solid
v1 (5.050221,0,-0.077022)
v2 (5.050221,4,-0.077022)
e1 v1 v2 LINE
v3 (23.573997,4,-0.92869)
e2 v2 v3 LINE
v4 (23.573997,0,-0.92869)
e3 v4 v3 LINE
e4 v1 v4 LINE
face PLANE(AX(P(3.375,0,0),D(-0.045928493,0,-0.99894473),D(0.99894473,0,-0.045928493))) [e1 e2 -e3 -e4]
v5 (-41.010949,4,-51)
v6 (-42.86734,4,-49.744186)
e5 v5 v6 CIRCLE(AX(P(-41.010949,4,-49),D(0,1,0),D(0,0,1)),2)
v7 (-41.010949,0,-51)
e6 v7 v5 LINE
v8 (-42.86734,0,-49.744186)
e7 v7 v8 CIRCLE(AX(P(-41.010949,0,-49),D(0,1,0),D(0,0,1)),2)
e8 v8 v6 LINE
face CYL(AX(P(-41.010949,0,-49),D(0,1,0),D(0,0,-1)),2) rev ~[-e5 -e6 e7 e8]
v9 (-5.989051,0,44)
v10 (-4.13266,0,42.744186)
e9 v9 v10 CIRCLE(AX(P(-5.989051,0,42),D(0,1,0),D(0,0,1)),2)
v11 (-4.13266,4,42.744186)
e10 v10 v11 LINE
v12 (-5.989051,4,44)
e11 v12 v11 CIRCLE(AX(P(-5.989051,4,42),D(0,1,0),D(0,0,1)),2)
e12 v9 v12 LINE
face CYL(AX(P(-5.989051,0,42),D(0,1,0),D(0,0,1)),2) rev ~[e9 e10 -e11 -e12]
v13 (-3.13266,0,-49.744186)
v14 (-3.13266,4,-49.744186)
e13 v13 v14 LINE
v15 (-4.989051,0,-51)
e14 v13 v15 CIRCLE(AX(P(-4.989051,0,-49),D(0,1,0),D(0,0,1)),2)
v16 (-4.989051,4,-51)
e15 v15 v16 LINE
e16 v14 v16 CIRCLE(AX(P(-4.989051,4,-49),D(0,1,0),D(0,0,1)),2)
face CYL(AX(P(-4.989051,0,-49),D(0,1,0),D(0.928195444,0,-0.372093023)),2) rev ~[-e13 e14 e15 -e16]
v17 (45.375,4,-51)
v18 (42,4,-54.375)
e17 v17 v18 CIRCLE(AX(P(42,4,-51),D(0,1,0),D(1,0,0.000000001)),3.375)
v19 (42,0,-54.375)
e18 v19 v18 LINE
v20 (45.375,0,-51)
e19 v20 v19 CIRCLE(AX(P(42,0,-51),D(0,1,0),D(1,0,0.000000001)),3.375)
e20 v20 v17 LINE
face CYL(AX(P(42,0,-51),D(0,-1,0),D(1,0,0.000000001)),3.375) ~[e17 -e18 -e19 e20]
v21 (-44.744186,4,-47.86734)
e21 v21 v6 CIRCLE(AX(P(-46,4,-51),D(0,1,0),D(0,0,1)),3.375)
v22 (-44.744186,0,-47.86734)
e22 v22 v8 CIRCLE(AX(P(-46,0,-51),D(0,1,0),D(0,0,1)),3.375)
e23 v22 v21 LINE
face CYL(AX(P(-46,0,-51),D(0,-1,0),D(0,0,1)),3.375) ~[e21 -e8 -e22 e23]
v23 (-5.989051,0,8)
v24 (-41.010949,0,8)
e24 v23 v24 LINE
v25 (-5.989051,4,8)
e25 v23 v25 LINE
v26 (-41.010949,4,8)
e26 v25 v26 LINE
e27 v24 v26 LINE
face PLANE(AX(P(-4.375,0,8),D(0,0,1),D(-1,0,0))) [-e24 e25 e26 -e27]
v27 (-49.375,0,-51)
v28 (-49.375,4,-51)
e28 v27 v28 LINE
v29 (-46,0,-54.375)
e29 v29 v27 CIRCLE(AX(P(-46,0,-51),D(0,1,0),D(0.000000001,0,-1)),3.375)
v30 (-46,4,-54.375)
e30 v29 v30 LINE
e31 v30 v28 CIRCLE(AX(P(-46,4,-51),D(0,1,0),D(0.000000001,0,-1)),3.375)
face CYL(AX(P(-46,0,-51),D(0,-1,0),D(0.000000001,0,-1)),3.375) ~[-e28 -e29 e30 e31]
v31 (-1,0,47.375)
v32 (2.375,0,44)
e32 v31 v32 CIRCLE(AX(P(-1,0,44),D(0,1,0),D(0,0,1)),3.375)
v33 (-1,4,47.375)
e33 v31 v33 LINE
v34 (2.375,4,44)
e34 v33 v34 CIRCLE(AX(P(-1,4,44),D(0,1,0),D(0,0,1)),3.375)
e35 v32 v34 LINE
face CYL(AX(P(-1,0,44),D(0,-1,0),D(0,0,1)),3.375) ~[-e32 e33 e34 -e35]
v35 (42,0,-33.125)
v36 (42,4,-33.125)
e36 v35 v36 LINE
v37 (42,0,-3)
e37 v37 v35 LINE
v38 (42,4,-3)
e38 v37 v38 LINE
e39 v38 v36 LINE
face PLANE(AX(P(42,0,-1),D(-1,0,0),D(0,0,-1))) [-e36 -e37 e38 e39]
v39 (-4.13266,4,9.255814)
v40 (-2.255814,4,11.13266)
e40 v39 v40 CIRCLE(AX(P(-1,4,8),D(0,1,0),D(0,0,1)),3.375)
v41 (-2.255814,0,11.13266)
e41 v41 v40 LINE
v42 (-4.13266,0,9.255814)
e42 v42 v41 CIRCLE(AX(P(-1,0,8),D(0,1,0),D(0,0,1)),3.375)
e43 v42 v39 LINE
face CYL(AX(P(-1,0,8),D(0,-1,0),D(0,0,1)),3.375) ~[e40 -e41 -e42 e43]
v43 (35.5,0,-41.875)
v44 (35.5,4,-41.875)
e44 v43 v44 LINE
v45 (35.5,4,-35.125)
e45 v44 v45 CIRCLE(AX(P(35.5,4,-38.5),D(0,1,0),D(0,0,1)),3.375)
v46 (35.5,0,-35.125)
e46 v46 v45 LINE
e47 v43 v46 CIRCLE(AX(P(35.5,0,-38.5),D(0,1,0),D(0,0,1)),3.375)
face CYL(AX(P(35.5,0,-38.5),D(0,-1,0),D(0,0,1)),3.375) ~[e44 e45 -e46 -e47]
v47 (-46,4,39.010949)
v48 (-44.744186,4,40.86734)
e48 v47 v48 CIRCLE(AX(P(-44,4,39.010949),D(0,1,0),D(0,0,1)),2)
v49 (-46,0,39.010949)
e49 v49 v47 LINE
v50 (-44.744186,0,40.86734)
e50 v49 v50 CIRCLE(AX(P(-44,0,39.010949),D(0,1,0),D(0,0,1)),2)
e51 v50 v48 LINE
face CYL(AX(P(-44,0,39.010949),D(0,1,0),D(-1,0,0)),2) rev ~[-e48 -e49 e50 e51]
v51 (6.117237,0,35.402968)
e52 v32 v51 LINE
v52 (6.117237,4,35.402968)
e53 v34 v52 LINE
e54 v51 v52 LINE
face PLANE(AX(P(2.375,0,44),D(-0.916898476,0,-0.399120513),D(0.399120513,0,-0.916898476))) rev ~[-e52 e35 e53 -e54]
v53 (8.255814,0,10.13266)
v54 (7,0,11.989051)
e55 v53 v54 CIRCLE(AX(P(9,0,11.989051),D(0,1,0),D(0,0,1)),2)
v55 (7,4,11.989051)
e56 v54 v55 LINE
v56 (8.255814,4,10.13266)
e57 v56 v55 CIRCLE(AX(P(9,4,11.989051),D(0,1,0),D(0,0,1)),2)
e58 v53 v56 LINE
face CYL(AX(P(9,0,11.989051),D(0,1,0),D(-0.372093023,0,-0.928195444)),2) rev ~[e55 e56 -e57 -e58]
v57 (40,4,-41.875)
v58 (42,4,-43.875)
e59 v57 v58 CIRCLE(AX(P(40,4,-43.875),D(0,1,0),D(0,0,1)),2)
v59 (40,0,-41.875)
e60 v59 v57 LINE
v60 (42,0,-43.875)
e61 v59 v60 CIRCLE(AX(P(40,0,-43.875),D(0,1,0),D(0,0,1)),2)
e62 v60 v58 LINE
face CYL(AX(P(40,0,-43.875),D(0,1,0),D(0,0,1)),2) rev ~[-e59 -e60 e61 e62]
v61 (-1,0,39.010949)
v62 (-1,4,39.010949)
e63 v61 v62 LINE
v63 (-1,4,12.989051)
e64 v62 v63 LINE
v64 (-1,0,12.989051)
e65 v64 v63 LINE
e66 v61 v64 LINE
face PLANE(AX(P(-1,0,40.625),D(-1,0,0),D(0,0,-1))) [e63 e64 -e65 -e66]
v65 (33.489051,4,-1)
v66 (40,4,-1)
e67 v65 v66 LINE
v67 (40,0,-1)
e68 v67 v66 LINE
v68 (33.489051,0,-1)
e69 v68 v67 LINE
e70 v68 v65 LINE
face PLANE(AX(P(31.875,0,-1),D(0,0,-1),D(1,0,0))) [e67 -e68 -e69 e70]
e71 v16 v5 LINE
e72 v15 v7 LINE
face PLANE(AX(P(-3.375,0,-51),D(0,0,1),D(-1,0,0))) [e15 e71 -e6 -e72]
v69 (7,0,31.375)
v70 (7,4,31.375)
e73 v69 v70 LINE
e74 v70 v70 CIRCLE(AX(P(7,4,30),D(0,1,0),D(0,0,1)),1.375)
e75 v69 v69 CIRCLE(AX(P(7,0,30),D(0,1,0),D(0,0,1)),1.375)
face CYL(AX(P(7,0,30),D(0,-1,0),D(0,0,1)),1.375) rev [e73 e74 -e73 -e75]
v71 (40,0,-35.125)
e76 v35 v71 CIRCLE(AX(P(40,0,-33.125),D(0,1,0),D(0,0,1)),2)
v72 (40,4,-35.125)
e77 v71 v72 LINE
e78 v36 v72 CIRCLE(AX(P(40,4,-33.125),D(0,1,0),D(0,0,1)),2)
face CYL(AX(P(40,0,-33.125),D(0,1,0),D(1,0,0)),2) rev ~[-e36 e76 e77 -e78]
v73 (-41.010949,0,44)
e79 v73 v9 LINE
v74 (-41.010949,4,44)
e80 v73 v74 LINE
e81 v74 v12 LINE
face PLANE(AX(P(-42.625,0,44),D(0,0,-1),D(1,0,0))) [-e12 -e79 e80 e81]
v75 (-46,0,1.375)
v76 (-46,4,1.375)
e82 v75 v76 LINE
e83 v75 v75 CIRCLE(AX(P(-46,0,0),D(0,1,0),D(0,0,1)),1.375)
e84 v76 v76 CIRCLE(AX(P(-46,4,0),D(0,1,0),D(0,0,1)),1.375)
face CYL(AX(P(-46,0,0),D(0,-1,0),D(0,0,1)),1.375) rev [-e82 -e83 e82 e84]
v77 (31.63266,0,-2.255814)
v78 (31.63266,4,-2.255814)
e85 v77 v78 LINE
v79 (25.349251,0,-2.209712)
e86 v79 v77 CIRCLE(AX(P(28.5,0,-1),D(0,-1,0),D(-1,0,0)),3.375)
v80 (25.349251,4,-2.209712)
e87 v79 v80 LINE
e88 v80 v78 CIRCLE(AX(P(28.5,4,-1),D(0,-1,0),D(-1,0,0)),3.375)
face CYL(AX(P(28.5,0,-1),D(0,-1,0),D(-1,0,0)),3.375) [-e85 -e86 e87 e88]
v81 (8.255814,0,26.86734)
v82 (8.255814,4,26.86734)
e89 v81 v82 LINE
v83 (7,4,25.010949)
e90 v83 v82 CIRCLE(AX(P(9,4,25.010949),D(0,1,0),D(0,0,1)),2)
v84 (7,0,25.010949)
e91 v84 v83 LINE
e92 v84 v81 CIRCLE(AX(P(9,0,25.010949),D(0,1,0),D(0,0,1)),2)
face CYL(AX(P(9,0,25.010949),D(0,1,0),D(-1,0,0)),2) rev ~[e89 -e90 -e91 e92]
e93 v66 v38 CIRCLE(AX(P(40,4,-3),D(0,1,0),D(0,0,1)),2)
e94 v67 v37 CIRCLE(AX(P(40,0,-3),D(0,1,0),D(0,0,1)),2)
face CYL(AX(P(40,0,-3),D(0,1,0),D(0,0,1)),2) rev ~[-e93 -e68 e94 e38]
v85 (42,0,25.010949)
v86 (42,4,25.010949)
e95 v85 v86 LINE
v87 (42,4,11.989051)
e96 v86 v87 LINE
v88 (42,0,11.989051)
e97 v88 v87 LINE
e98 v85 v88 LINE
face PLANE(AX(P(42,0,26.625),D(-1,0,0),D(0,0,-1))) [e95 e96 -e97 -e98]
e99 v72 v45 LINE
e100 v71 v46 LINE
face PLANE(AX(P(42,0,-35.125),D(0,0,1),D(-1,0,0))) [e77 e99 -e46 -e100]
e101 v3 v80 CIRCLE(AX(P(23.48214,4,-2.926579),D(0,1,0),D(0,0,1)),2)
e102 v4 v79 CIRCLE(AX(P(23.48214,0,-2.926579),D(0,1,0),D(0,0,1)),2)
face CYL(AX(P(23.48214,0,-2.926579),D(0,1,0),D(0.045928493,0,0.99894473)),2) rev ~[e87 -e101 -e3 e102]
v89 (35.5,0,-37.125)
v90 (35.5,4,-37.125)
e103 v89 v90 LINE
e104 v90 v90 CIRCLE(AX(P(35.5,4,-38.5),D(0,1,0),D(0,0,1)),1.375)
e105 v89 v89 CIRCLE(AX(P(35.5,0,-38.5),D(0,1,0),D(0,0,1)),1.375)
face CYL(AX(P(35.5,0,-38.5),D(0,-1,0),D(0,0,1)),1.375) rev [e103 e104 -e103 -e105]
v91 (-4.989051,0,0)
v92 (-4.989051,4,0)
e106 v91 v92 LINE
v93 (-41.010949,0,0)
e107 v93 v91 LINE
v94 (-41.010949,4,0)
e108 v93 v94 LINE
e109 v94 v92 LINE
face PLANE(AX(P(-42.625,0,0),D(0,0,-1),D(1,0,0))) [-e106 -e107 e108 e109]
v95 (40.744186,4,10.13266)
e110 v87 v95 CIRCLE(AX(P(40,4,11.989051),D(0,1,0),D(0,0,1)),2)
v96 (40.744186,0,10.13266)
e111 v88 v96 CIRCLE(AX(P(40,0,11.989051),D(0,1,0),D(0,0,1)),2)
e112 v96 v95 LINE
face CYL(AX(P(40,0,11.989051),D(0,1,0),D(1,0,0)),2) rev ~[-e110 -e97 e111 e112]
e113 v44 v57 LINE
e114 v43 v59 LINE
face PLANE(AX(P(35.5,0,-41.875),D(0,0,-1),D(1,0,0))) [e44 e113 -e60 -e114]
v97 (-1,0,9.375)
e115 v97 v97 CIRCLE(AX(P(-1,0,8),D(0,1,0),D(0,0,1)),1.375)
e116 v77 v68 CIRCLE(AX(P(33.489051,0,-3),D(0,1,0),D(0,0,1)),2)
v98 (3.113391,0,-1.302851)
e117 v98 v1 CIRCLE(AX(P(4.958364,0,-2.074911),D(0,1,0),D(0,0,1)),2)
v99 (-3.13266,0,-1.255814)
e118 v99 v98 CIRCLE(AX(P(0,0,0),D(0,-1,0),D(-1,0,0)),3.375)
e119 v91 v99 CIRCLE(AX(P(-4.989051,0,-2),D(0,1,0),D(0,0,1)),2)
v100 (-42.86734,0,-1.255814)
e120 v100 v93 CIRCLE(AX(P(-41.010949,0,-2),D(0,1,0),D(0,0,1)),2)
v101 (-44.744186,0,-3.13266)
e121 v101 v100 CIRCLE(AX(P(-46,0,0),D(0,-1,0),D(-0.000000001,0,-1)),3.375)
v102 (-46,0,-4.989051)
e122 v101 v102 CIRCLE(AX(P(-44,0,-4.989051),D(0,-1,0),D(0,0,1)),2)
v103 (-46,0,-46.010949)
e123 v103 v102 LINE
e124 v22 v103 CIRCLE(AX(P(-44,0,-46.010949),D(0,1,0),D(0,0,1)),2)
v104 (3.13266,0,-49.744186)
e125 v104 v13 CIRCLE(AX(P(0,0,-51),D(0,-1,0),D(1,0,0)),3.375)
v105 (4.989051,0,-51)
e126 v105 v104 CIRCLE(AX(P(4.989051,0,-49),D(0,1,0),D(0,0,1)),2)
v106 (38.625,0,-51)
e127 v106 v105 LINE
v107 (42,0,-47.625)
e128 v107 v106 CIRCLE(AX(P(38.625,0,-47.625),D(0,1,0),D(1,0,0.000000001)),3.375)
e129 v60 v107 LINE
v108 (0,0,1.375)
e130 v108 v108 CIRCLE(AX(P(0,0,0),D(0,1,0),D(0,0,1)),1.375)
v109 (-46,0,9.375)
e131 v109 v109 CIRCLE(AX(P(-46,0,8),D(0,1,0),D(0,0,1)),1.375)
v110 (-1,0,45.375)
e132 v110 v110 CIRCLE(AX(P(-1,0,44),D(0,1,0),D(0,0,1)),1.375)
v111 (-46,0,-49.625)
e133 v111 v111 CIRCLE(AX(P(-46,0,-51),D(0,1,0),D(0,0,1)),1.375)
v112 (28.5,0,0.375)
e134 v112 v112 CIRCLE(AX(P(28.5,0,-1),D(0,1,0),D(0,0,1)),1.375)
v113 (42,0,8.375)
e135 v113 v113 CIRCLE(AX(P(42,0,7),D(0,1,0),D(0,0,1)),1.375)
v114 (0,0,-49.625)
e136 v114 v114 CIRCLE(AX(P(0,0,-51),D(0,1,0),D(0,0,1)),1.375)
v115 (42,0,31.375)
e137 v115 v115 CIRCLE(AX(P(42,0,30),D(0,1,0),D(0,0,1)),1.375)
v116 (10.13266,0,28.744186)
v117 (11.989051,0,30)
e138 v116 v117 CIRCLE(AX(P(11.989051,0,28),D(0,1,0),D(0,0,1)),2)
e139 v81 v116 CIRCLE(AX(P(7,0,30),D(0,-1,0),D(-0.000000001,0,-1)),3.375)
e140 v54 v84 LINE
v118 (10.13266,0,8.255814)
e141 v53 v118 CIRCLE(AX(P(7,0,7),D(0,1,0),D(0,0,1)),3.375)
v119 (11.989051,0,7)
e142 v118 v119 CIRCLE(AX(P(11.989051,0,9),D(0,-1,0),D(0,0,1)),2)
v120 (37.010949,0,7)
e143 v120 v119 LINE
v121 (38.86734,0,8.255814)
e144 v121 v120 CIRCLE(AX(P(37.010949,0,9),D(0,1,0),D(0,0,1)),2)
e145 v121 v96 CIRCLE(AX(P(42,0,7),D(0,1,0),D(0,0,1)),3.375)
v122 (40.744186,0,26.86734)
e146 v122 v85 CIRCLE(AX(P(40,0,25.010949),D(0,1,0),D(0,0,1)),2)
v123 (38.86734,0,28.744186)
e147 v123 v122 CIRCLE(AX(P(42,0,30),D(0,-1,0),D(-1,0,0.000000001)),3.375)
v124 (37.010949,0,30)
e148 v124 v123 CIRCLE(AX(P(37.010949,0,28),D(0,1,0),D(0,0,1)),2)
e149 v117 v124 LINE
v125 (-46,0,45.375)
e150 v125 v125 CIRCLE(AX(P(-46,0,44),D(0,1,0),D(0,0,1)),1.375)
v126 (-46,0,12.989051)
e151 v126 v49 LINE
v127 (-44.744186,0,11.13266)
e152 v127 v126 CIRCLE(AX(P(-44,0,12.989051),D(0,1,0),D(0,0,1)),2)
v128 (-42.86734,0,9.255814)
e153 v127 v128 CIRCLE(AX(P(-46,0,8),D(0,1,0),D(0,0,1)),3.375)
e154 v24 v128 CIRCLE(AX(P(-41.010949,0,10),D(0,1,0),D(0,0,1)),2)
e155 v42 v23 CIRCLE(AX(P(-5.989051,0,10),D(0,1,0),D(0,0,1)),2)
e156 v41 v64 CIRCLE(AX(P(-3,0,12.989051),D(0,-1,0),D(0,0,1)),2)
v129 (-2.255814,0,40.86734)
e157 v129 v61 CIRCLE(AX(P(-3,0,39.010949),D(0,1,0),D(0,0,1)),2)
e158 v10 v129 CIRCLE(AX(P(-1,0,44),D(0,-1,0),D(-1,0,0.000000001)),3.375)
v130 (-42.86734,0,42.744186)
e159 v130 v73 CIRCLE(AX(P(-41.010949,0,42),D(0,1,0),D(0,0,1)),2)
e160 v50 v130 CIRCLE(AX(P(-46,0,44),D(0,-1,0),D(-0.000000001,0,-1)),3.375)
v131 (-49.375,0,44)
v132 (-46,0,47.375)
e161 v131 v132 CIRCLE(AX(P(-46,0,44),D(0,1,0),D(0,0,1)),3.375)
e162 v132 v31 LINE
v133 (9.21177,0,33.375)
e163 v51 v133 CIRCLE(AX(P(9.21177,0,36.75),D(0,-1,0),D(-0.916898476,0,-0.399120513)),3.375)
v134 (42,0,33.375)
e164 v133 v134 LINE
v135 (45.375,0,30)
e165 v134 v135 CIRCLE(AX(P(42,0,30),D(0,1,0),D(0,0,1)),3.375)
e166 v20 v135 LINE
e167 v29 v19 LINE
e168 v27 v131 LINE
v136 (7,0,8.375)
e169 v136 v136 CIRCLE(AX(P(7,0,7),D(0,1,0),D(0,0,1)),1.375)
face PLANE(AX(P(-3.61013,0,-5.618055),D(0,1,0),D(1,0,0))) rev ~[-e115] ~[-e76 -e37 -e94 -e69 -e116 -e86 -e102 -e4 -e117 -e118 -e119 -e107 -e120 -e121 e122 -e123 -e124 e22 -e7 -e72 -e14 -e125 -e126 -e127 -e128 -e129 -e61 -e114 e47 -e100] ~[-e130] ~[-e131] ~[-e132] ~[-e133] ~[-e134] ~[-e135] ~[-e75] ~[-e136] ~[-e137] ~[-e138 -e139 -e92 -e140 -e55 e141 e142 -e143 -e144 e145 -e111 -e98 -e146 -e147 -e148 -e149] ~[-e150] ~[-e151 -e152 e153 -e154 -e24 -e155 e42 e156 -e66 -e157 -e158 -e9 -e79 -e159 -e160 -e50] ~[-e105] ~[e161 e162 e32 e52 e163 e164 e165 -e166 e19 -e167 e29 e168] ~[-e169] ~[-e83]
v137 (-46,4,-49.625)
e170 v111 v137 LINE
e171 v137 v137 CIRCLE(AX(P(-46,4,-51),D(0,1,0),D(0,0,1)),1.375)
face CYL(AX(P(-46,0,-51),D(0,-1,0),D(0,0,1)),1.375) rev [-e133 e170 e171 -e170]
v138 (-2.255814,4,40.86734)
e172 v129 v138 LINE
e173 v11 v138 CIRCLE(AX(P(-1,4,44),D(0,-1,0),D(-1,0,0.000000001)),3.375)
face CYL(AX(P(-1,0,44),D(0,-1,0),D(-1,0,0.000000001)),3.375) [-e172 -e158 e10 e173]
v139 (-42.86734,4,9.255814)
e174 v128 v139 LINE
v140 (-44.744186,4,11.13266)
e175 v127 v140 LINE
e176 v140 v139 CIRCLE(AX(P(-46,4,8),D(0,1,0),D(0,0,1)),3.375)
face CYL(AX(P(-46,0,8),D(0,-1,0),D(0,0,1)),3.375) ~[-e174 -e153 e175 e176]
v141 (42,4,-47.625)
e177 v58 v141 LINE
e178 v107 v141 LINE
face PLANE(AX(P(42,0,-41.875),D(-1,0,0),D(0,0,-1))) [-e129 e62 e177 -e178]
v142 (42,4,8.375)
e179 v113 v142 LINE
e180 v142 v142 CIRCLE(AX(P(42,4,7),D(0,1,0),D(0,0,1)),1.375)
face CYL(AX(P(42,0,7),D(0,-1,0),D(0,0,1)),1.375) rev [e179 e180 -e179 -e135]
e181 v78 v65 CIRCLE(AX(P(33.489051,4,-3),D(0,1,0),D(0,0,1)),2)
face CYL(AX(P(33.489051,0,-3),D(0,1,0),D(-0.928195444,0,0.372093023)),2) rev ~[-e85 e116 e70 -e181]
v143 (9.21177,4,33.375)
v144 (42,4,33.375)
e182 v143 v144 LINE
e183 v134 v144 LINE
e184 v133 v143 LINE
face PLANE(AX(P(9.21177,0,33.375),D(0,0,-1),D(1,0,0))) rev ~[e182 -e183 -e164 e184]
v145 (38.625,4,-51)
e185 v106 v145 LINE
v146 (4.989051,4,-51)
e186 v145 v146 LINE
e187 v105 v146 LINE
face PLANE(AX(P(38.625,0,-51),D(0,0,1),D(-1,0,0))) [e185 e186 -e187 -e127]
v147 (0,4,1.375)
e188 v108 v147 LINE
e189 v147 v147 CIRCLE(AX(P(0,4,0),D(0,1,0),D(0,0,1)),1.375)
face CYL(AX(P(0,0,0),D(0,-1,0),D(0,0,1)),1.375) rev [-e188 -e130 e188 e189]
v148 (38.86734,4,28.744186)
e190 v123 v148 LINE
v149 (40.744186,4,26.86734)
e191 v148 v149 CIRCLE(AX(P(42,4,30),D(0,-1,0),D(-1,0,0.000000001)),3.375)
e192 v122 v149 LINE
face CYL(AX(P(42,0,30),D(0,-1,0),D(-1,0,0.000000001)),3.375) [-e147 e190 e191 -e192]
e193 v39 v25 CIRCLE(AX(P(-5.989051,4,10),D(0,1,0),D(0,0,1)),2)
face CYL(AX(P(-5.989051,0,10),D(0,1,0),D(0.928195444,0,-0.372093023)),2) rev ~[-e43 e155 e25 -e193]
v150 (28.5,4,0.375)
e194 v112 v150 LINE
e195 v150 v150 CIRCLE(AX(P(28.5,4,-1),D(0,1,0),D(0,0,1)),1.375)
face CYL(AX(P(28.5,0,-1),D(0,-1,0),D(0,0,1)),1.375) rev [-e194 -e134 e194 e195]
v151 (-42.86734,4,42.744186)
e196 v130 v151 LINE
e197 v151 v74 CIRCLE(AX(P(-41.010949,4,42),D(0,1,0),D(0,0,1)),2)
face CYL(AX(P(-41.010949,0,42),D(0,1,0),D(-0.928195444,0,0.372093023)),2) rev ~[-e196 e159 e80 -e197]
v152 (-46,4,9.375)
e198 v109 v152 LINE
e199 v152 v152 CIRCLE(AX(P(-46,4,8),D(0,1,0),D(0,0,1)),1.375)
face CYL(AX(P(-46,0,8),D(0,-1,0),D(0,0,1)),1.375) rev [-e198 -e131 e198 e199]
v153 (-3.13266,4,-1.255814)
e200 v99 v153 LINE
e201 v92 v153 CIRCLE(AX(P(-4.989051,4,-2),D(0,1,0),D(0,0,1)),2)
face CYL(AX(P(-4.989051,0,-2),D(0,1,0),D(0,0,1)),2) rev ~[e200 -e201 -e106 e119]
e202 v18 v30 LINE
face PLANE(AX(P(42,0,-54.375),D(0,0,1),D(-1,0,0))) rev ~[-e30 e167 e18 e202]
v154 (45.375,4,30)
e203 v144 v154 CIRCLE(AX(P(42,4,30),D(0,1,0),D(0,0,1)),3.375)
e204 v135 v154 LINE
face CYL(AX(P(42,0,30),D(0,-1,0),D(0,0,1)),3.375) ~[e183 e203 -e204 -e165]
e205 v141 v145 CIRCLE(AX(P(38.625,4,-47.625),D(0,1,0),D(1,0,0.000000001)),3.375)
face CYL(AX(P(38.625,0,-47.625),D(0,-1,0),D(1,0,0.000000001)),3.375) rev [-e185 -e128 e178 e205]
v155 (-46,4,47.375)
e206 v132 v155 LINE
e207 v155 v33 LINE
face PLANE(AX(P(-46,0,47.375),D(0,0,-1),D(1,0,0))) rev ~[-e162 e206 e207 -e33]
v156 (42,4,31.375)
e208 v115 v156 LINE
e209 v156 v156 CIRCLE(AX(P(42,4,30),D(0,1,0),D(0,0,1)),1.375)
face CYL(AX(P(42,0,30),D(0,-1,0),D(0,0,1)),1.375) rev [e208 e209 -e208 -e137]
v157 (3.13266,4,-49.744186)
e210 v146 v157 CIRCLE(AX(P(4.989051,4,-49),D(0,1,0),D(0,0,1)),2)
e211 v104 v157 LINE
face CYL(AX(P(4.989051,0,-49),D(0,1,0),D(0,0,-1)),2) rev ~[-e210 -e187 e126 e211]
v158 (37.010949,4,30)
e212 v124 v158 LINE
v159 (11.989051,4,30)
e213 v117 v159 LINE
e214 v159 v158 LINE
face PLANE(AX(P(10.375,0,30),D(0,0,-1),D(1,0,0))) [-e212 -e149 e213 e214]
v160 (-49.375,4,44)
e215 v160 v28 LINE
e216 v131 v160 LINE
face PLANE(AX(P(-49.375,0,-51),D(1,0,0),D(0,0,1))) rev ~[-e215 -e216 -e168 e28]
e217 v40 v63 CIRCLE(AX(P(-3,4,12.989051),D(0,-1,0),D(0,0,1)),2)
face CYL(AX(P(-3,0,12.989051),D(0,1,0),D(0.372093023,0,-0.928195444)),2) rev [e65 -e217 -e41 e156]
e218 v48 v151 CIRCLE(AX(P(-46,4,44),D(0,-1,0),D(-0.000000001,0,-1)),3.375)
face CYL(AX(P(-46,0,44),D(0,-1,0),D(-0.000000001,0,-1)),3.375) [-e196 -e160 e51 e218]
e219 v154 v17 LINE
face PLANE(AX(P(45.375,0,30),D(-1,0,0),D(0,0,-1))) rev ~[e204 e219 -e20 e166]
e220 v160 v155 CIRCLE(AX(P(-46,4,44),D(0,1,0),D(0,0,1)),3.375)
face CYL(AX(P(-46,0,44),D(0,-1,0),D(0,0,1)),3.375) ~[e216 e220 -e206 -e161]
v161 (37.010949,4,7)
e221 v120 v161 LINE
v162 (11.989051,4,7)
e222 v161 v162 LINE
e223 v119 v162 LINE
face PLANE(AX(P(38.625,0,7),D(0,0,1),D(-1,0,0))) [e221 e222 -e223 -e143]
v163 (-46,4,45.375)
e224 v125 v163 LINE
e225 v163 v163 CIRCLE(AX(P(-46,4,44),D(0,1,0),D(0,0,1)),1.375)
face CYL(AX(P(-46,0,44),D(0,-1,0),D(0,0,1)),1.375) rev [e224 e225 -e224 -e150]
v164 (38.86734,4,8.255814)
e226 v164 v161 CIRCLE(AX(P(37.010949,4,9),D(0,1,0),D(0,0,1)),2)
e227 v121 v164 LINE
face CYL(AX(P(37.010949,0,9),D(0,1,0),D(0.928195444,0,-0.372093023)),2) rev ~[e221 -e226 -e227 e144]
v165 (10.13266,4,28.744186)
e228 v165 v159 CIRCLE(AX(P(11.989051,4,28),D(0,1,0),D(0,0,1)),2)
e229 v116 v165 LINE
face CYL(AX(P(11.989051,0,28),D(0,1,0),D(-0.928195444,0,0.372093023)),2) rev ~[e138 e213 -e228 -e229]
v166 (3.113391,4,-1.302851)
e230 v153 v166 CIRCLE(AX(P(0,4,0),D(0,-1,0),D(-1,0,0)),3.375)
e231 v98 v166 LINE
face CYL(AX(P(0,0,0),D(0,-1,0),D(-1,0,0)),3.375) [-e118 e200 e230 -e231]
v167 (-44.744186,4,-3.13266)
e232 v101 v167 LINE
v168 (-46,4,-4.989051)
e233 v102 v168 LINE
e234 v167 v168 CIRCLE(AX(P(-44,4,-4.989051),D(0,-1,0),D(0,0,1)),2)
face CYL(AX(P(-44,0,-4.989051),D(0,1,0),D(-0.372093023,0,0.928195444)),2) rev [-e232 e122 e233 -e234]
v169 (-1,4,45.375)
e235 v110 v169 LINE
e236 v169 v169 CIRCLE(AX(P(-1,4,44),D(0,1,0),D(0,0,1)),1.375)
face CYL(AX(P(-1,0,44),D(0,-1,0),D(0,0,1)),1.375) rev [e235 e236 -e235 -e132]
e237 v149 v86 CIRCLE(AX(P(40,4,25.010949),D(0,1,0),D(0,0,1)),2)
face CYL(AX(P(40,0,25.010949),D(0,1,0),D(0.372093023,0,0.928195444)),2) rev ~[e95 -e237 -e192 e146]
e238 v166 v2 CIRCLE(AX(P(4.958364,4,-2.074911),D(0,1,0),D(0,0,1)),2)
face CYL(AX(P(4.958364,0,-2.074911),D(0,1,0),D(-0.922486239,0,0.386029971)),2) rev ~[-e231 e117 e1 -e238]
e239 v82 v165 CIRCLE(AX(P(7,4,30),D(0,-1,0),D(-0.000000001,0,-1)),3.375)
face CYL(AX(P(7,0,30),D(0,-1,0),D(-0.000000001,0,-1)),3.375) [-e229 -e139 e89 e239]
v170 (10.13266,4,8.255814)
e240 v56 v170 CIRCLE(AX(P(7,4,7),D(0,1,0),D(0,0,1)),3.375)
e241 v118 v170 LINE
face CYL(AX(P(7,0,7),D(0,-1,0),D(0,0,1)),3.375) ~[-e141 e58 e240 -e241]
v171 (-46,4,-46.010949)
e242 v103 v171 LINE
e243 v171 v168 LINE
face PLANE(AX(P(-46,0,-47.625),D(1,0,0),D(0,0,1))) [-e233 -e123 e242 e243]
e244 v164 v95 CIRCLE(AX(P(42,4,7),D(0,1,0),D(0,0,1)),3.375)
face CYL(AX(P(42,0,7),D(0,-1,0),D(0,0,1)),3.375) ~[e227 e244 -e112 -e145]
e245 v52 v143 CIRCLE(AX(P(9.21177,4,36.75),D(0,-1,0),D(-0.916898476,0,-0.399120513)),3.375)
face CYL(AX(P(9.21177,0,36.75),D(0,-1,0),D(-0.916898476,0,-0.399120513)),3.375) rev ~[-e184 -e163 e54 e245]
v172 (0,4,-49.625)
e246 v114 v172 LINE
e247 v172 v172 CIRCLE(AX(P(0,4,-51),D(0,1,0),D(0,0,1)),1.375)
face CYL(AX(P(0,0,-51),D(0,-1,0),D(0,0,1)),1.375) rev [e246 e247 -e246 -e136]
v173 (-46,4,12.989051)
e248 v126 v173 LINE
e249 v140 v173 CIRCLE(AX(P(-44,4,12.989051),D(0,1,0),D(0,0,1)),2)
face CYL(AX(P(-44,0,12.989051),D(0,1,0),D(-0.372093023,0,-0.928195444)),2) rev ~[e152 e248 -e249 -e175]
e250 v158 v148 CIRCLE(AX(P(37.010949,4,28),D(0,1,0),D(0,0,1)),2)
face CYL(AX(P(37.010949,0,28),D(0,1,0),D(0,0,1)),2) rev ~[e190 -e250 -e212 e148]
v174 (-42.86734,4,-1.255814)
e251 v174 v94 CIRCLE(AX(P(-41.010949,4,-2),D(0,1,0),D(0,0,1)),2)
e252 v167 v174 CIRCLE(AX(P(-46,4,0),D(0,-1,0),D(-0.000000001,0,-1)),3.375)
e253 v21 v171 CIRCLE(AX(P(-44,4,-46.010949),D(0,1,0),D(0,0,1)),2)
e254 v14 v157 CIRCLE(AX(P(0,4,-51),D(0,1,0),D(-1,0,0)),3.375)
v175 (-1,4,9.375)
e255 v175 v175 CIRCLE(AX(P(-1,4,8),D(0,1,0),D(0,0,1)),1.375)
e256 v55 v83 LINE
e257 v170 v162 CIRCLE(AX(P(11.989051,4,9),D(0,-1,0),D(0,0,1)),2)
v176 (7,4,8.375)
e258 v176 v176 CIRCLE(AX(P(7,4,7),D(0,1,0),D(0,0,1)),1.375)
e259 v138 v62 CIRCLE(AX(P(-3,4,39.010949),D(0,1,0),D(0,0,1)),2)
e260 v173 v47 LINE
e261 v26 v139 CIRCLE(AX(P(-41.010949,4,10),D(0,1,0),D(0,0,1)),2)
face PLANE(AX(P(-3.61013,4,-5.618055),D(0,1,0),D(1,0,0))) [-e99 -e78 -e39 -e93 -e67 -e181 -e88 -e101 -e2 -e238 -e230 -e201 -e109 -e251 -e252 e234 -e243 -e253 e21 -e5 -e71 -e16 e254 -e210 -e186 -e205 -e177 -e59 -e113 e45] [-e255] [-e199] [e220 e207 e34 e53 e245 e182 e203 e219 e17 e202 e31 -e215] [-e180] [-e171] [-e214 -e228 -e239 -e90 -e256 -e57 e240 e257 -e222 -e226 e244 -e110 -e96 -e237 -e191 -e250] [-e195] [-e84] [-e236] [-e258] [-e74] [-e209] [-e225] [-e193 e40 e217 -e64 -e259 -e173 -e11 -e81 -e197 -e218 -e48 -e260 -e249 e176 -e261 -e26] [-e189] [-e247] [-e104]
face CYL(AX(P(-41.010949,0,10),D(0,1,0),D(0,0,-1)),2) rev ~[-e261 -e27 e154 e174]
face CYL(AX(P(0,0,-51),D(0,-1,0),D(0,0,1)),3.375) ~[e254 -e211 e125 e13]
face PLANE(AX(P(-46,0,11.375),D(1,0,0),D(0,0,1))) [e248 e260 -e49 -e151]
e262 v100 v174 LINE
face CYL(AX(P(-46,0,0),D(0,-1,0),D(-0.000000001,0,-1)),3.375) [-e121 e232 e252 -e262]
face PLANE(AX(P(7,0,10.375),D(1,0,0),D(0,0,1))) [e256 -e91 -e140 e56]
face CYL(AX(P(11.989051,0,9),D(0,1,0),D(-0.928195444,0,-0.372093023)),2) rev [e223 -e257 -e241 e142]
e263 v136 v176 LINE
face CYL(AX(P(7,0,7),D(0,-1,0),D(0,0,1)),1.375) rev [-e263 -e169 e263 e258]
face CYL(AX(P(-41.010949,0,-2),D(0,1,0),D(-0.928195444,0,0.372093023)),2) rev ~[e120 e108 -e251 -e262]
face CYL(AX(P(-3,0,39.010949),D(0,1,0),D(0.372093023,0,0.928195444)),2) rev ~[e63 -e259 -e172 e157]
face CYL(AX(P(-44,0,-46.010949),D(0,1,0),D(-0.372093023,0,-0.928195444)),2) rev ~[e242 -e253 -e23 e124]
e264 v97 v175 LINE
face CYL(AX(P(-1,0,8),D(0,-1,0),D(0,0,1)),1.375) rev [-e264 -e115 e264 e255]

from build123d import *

# Parameters (mm, degrees)
SKETCH2_R                = 3.375
SKETCH2_R_2              = 1.375
PART_SCREWHOLES_DEPTH    = 4
PART_SCREWHOLES_2_DEPTH  = 4
PART_SCREWHOLES_3_DEPTH  = 4
PART_SCREWHOLES_4_DEPTH  = 4
PART_SCREWHOLES_5_DEPTH  = 4
PART_SCREWHOLES_6_DEPTH  = 4
PART_SCREWHOLES_7_DEPTH  = 4
PART_SCREWHOLES_8_DEPTH  = 4
PART_SCREWHOLES_9_DEPTH  = 4
PART_SCREWHOLES_10_DEPTH = 4
PART_SCREWHOLES_11_DEPTH = 4
PART_SCREWHOLES_12_DEPTH = 4
PART_SCREWHOLES_13_DEPTH = 4
PART_SCREWHOLES_14_DEPTH = 4
FRAME_START              = -4
SKETCH3_R                = 1.375
FRAME_DEPTH              = 4
GENERAL_ROUNDING_2MM_R   = 2


with BuildPart() as part:
    # Sketch2 → Part screwholes (new body)
    with BuildSketch(Plane(origin=(0, 0, 0), x_dir=(1, 0, 0), z_dir=(0, 1, 0))):
        with Locations(Location((-46, 51, 0), (0, 0, 270))):
            Circle(SKETCH2_R)
        with Locations(Location((-46, 51, 0), (0, 0, 270))):
            Circle(SKETCH2_R_2, mode=Mode.SUBTRACT)
    extrude(amount=PART_SCREWHOLES_DEPTH)



with BuildPart() as body_2:
    # Sketch2 → Part screwholes 2 (new body)
    with BuildSketch(Plane(origin=(0, 0, 0), x_dir=(1, 0, 0), z_dir=(0, 1, 0))):
        with Locations(Location((0, 51, 0), (0, 0, 270))):
            Circle(SKETCH2_R)
        with Locations(Location((0, 51, 0), (0, 0, 270))):
            Circle(SKETCH2_R_2, mode=Mode.SUBTRACT)
    extrude(amount=PART_SCREWHOLES_2_DEPTH)


with BuildPart() as body_3:
    # Sketch2 → Part screwholes 3 (new body)
    with BuildSketch(Plane(origin=(0, 0, 0), x_dir=(1, 0, 0), z_dir=(0, 1, 0))):
        with Locations(Location((0, 0, 0), (0, 0, 270))):
            Circle(SKETCH2_R)
        with Locations(Location((0, 0, 0), (0, 0, 270))):
            Circle(SKETCH2_R_2, mode=Mode.SUBTRACT)
    extrude(amount=PART_SCREWHOLES_3_DEPTH)


with BuildPart() as body_4:
    # Sketch2 → Part screwholes 4 (new body)
    with BuildSketch(Plane(origin=(0, 0, 0), x_dir=(1, 0, 0), z_dir=(0, 1, 0))):
        with Locations(Location((-46, 0, 0), (0, 0, 270))):
            Circle(SKETCH2_R)
        with Locations(Location((-46, 0, 0), (0, 0, 270))):
            Circle(SKETCH2_R_2, mode=Mode.SUBTRACT)
    extrude(amount=PART_SCREWHOLES_4_DEPTH)


with BuildPart() as body_5:
    # Sketch2 → Part screwholes 5 (new body)
    with BuildSketch(Plane(origin=(0, 0, 0), x_dir=(1, 0, 0), z_dir=(0, 1, 0))):
        with Locations(Location((-46, -8, 0), (0, 0, 270))):
            Circle(SKETCH2_R)
        with Locations(Location((-46, -8, 0), (0, 0, 270))):
            Circle(SKETCH2_R_2, mode=Mode.SUBTRACT)
    extrude(amount=PART_SCREWHOLES_5_DEPTH)


with BuildPart() as body_6:
    # Sketch2 → Part screwholes 6 (new body)
    with BuildSketch(Plane(origin=(0, 0, 0), x_dir=(1, 0, 0), z_dir=(0, 1, 0))):
        with Locations(Location((-1, -8, 0), (0, 0, 270))):
            Circle(SKETCH2_R)
        with Locations(Location((-1, -8, 0), (0, 0, 270))):
            Circle(SKETCH2_R_2, mode=Mode.SUBTRACT)
    extrude(amount=PART_SCREWHOLES_6_DEPTH)


with BuildPart() as body_7:
    # Sketch2 → Part screwholes 7 (new body)
    with BuildSketch(Plane(origin=(0, 0, 0), x_dir=(1, 0, 0), z_dir=(0, 1, 0))):
        with Locations(Location((7, -7, 0), (0, 0, 270))):
            Circle(SKETCH2_R)
        with Locations(Location((7, -7, 0), (0, 0, 270))):
            Circle(SKETCH2_R_2, mode=Mode.SUBTRACT)
    extrude(amount=PART_SCREWHOLES_7_DEPTH)


with BuildPart() as body_8:
    # Sketch2 → Part screwholes 8 (new body)
    with BuildSketch(Plane(origin=(0, 0, 0), x_dir=(1, 0, 0), z_dir=(0, 1, 0))):
        with Locations(Location((28.5, 1, 0), (0, 0, 270))):
            Circle(SKETCH2_R)
        with Locations(Location((28.5, 1, 0), (0, 0, 270))):
            Circle(SKETCH2_R_2, mode=Mode.SUBTRACT)
    extrude(amount=PART_SCREWHOLES_8_DEPTH)


with BuildPart() as body_9:
    # Sketch2 → Part screwholes 9 (new body)
    with BuildSketch(Plane(origin=(0, 0, 0), x_dir=(1, 0, 0), z_dir=(0, 1, 0))):
        with Locations(Location((35.5, 38.5, 0), (0, 0, 270))):
            Circle(SKETCH2_R)
        with Locations(Location((35.5, 38.5, 0), (0, 0, 270))):
            Circle(SKETCH2_R_2, mode=Mode.SUBTRACT)
    extrude(amount=PART_SCREWHOLES_9_DEPTH)


with BuildPart() as body_10:
    # Sketch2 → Part screwholes 10 (new body)
    with BuildSketch(Plane(origin=(0, 0, 0), x_dir=(1, 0, 0), z_dir=(0, 1, 0))):
        with Locations(Location((-1, -44, 0), (0, 0, 270))):
            Circle(SKETCH2_R)
        with Locations(Location((-1, -44, 0), (0, 0, 270))):
            Circle(SKETCH2_R_2, mode=Mode.SUBTRACT)
    extrude(amount=PART_SCREWHOLES_10_DEPTH)


with BuildPart() as body_11:
    # Sketch2 → Part screwholes 11 (new body)
    with BuildSketch(Plane(origin=(0, 0, 0), x_dir=(1, 0, 0), z_dir=(0, 1, 0))):
        with Locations(Location((-46, -44, 0), (0, 0, 270))):
            Circle(SKETCH2_R)
        with Locations(Location((-46, -44, 0), (0, 0, 270))):
            Circle(SKETCH2_R_2, mode=Mode.SUBTRACT)
    extrude(amount=PART_SCREWHOLES_11_DEPTH)


with BuildPart() as body_12:
    # Sketch2 → Part screwholes 12 (new body)
    with BuildSketch(Plane(origin=(0, 0, 0), x_dir=(1, 0, 0), z_dir=(0, 1, 0))):
        with Locations(Location((7, -30, 0), (0, 0, 270))):
            Circle(SKETCH2_R)
        with Locations(Location((7, -30, 0), (0, 0, 270))):
            Circle(SKETCH2_R_2, mode=Mode.SUBTRACT)
    extrude(amount=PART_SCREWHOLES_12_DEPTH)


with BuildPart() as body_13:
    # Sketch2 → Part screwholes 13 (new body)
    with BuildSketch(Plane(origin=(0, 0, 0), x_dir=(1, 0, 0), z_dir=(0, 1, 0))):
        with Locations(Location((42, -30, 0), (0, 0, 270))):
            Circle(SKETCH2_R)
        with Locations(Location((42, -30, 0), (0, 0, 270))):
            Circle(SKETCH2_R_2, mode=Mode.SUBTRACT)
    extrude(amount=PART_SCREWHOLES_13_DEPTH)


with BuildPart() as body_14:
    # Sketch2 → Part screwholes 14 (new body)
    with BuildSketch(Plane(origin=(0, 0, 0), x_dir=(1, 0, 0), z_dir=(0, 1, 0))):
        with Locations(Location((42, -7, 0), (0, 0, 270))):
            Circle(SKETCH2_R)
        with Locations(Location((42, -7, 0), (0, 0, 270))):
            Circle(SKETCH2_R_2, mode=Mode.SUBTRACT)
    extrude(amount=PART_SCREWHOLES_14_DEPTH)


with BuildPart() as part_1:
    add(part.part)

    add(body_2.part)  # Frame merges body 2

    add(body_3.part)  # Frame merges body 3

    add(body_4.part)  # Frame merges body 4

    add(body_5.part)  # Frame merges body 5

    add(body_6.part)  # Frame merges body 6

    add(body_7.part)  # Frame merges body 7

    add(body_8.part)  # Frame merges body 8

    add(body_9.part)  # Frame merges body 9

    add(body_10.part)  # Frame merges body 10

    add(body_11.part)  # Frame merges body 11

    add(body_12.part)  # Frame merges body 12

    add(body_13.part)  # Frame merges body 13

    add(body_14.part)  # Frame merges body 14
    # Sketch3 → Frame (add)
    with BuildSketch(Plane(origin=(0, 4, 0), x_dir=(1, 0, 0), z_dir=(0, 1, 0)).offset(FRAME_START)):
        with BuildLine():
            Line((-49.375, 51), (-49.375, -44))
            ThreePointArc((-49.375, -44), (-48.386485387, -46.386485387), (-46, -47.375))
            Line((-46, -47.375), (-1, -47.375))
            ThreePointArc((-1, -47.375), (1.386485387, -46.386485387), (2.375, -44))
            Line((2.375, -44), (6.117237342, -35.402968268))
            ThreePointArc((6.117237342, -35.402968268), (7.361851742, -33.927159489), (9.2117697, -33.375))
            Line((9.2117697, -33.375), (42, -33.375))
            ThreePointArc((42, -33.375), (44.386485387, -32.386485387), (45.375, -30))
            Line((45.375, -30), (45.375, 51))
            ThreePointArc((45.375, 51), (44.386485387, 53.386485387), (42, 54.375))
            Line((42, 54.375), (-46, 54.375))
            ThreePointArc((-46, 54.375), (-48.386485387, 53.386485387), (-49.375, 51))
        make_face()
        with Locations(Location((35.5, 38.5, 0), (0, 0, 270))):
            Circle(SKETCH3_R, mode=Mode.SUBTRACT)
        with Locations(Location((0, 51, 0), (0, 0, 270))):
            Circle(SKETCH3_R, mode=Mode.SUBTRACT)
        with Locations(Location((-46, 51, 0), (0, 0, 270))):
            Circle(SKETCH3_R, mode=Mode.SUBTRACT)
        with Locations(Location((-46, 0, 0), (0, 0, 270))):
            Circle(SKETCH3_R, mode=Mode.SUBTRACT)
        with Locations(Location((-46, -8, 0), (0, 0, 270))):
            Circle(SKETCH3_R, mode=Mode.SUBTRACT)
        with Locations(Location((0, 0, 0), (0, 0, 270))):
            Circle(SKETCH3_R, mode=Mode.SUBTRACT)
        with Locations(Location((-1, -8, 0), (0, 0, 270))):
            Circle(SKETCH3_R, mode=Mode.SUBTRACT)
        with Locations(Location((7, -7, 0), (0, 0, 270))):
            Circle(SKETCH3_R, mode=Mode.SUBTRACT)
        with Locations(Location((28.5, 1, 0), (0, 0, 270))):
            Circle(SKETCH3_R, mode=Mode.SUBTRACT)
        with Locations(Location((42, -7, 0), (0, 0, 270))):
            Circle(SKETCH3_R, mode=Mode.SUBTRACT)
        with Locations(Location((42, -30, 0), (0, 0, 270))):
            Circle(SKETCH3_R, mode=Mode.SUBTRACT)
        with Locations(Location((7, -30, 0), (0, 0, 270))):
            Circle(SKETCH3_R, mode=Mode.SUBTRACT)
        with Locations(Location((-46, -44, 0), (0, 0, 270))):
            Circle(SKETCH3_R, mode=Mode.SUBTRACT)
        with Locations(Location((-1, -44, 0), (0, 0, 270))):
            Circle(SKETCH3_R, mode=Mode.SUBTRACT)
        with BuildLine():
            Line((-46, 47.625), (-46, 3.375))
            ThreePointArc((-46, 3.375), (-43.613514613, 2.386485387), (-42.625, 0))
            Line((-42.625, 0), (-3.375, 0))
            ThreePointArc((-3.375, 0), (0, 3.375), (3.375, 0))
            Line((3.375, 0), (25.125, 1))
            ThreePointArc((25.125, 1), (28.5, 4.375), (31.875, 1))
            Line((31.875, 1), (42, 1))
            Line((42, 1), (42, 35.125))
            Line((42, 35.125), (35.5, 35.125))
            ThreePointArc((35.5, 35.125), (32.125, 38.5), (35.5, 41.875))
            Line((35.5, 41.875), (42, 41.875))
            Line((42, 41.875), (42, 47.625))
            ThreePointArc((42, 47.625), (41.011485387, 50.011485387), (38.625, 51))
            Line((38.625, 51), (3.375, 51))
            ThreePointArc((3.375, 51), (0, 47.625), (-3.375, 51))
            Line((-3.375, 51), (-42.625, 51))
            ThreePointArc((-42.625, 51), (-43.613514613, 48.613514613), (-46, 47.625))
        make_face(mode=Mode.SUBTRACT)
        with BuildLine():
            Line((-46, -11.375), (-46, -40.625))
            ThreePointArc((-46, -40.625), (-43.613514613, -41.613514613), (-42.625, -44))
            Line((-42.625, -44), (-4.375, -44))
            ThreePointArc((-4.375, -44), (-3.386485387, -41.613514613), (-1, -40.625))
            Line((-1, -40.625), (-1, -11.375))
            ThreePointArc((-1, -11.375), (-3.386485387, -10.386485387), (-4.375, -8))
            Line((-4.375, -8), (-42.625, -8))
            ThreePointArc((-42.625, -8), (-43.613514613, -10.386485387), (-46, -11.375))
        make_face(mode=Mode.SUBTRACT)
        with BuildLine():
            Line((10.375, -30), (38.625, -30))
            ThreePointArc((38.625, -30), (39.613514613, -27.613514613), (42, -26.625))
            Line((42, -26.625), (42, -10.375))
            ThreePointArc((42, -10.375), (39.613514613, -9.386485387), (38.625, -7))
            Line((38.625, -7), (10.375, -7))
            ThreePointArc((10.375, -7), (9.386485387, -9.386485387), (7, -10.375))
            Line((7, -10.375), (7, -26.625))
            ThreePointArc((7, -26.625), (9.386485387, -27.613514613), (10.375, -30))
        make_face(mode=Mode.SUBTRACT)
    extrude(amount=FRAME_DEPTH)

    # General rounding 2mm
    general_rounding_2mm_edges = [part_1.edges().sort_by_distance(p)[0] for p in [
        (-42.625, 2, 8),
        (-4.375, 2, 8),
        (-1, 2, 11.375),
        (-1, 2, 40.625),
        (-4.375, 2, 44),
        (-42.625, 2, 44),
        (-46, 2, 40.625),
        (-46, 2, 11.375),
        (42, 2, -35.125),
        (42, 2, -1),
        (31.875, 2, -1),
        (25.125, 2, -1),
        (3.375, 2, 0),
        (-3.375, 2, 0),
        (-42.625, 2, 0),
        (-46, 2, -3.375),
        (-46, 2, -47.625),
        (-42.625, 2, -51),
        (-3.375, 2, -51),
        (3.375, 2, -51),
        (42, 2, -41.875),
        (7, 2, 26.625),
        (7, 2, 10.375),
        (10.375, 2, 7),
        (38.625, 2, 7),
        (42, 2, 10.375),
        (42, 2, 26.625),
        (38.625, 2, 30),
        (10.375, 2, 30),
    ]]
    fillet(general_rounding_2mm_edges, radius=GENERAL_ROUNDING_2MM_R)


solid = part_1.part
